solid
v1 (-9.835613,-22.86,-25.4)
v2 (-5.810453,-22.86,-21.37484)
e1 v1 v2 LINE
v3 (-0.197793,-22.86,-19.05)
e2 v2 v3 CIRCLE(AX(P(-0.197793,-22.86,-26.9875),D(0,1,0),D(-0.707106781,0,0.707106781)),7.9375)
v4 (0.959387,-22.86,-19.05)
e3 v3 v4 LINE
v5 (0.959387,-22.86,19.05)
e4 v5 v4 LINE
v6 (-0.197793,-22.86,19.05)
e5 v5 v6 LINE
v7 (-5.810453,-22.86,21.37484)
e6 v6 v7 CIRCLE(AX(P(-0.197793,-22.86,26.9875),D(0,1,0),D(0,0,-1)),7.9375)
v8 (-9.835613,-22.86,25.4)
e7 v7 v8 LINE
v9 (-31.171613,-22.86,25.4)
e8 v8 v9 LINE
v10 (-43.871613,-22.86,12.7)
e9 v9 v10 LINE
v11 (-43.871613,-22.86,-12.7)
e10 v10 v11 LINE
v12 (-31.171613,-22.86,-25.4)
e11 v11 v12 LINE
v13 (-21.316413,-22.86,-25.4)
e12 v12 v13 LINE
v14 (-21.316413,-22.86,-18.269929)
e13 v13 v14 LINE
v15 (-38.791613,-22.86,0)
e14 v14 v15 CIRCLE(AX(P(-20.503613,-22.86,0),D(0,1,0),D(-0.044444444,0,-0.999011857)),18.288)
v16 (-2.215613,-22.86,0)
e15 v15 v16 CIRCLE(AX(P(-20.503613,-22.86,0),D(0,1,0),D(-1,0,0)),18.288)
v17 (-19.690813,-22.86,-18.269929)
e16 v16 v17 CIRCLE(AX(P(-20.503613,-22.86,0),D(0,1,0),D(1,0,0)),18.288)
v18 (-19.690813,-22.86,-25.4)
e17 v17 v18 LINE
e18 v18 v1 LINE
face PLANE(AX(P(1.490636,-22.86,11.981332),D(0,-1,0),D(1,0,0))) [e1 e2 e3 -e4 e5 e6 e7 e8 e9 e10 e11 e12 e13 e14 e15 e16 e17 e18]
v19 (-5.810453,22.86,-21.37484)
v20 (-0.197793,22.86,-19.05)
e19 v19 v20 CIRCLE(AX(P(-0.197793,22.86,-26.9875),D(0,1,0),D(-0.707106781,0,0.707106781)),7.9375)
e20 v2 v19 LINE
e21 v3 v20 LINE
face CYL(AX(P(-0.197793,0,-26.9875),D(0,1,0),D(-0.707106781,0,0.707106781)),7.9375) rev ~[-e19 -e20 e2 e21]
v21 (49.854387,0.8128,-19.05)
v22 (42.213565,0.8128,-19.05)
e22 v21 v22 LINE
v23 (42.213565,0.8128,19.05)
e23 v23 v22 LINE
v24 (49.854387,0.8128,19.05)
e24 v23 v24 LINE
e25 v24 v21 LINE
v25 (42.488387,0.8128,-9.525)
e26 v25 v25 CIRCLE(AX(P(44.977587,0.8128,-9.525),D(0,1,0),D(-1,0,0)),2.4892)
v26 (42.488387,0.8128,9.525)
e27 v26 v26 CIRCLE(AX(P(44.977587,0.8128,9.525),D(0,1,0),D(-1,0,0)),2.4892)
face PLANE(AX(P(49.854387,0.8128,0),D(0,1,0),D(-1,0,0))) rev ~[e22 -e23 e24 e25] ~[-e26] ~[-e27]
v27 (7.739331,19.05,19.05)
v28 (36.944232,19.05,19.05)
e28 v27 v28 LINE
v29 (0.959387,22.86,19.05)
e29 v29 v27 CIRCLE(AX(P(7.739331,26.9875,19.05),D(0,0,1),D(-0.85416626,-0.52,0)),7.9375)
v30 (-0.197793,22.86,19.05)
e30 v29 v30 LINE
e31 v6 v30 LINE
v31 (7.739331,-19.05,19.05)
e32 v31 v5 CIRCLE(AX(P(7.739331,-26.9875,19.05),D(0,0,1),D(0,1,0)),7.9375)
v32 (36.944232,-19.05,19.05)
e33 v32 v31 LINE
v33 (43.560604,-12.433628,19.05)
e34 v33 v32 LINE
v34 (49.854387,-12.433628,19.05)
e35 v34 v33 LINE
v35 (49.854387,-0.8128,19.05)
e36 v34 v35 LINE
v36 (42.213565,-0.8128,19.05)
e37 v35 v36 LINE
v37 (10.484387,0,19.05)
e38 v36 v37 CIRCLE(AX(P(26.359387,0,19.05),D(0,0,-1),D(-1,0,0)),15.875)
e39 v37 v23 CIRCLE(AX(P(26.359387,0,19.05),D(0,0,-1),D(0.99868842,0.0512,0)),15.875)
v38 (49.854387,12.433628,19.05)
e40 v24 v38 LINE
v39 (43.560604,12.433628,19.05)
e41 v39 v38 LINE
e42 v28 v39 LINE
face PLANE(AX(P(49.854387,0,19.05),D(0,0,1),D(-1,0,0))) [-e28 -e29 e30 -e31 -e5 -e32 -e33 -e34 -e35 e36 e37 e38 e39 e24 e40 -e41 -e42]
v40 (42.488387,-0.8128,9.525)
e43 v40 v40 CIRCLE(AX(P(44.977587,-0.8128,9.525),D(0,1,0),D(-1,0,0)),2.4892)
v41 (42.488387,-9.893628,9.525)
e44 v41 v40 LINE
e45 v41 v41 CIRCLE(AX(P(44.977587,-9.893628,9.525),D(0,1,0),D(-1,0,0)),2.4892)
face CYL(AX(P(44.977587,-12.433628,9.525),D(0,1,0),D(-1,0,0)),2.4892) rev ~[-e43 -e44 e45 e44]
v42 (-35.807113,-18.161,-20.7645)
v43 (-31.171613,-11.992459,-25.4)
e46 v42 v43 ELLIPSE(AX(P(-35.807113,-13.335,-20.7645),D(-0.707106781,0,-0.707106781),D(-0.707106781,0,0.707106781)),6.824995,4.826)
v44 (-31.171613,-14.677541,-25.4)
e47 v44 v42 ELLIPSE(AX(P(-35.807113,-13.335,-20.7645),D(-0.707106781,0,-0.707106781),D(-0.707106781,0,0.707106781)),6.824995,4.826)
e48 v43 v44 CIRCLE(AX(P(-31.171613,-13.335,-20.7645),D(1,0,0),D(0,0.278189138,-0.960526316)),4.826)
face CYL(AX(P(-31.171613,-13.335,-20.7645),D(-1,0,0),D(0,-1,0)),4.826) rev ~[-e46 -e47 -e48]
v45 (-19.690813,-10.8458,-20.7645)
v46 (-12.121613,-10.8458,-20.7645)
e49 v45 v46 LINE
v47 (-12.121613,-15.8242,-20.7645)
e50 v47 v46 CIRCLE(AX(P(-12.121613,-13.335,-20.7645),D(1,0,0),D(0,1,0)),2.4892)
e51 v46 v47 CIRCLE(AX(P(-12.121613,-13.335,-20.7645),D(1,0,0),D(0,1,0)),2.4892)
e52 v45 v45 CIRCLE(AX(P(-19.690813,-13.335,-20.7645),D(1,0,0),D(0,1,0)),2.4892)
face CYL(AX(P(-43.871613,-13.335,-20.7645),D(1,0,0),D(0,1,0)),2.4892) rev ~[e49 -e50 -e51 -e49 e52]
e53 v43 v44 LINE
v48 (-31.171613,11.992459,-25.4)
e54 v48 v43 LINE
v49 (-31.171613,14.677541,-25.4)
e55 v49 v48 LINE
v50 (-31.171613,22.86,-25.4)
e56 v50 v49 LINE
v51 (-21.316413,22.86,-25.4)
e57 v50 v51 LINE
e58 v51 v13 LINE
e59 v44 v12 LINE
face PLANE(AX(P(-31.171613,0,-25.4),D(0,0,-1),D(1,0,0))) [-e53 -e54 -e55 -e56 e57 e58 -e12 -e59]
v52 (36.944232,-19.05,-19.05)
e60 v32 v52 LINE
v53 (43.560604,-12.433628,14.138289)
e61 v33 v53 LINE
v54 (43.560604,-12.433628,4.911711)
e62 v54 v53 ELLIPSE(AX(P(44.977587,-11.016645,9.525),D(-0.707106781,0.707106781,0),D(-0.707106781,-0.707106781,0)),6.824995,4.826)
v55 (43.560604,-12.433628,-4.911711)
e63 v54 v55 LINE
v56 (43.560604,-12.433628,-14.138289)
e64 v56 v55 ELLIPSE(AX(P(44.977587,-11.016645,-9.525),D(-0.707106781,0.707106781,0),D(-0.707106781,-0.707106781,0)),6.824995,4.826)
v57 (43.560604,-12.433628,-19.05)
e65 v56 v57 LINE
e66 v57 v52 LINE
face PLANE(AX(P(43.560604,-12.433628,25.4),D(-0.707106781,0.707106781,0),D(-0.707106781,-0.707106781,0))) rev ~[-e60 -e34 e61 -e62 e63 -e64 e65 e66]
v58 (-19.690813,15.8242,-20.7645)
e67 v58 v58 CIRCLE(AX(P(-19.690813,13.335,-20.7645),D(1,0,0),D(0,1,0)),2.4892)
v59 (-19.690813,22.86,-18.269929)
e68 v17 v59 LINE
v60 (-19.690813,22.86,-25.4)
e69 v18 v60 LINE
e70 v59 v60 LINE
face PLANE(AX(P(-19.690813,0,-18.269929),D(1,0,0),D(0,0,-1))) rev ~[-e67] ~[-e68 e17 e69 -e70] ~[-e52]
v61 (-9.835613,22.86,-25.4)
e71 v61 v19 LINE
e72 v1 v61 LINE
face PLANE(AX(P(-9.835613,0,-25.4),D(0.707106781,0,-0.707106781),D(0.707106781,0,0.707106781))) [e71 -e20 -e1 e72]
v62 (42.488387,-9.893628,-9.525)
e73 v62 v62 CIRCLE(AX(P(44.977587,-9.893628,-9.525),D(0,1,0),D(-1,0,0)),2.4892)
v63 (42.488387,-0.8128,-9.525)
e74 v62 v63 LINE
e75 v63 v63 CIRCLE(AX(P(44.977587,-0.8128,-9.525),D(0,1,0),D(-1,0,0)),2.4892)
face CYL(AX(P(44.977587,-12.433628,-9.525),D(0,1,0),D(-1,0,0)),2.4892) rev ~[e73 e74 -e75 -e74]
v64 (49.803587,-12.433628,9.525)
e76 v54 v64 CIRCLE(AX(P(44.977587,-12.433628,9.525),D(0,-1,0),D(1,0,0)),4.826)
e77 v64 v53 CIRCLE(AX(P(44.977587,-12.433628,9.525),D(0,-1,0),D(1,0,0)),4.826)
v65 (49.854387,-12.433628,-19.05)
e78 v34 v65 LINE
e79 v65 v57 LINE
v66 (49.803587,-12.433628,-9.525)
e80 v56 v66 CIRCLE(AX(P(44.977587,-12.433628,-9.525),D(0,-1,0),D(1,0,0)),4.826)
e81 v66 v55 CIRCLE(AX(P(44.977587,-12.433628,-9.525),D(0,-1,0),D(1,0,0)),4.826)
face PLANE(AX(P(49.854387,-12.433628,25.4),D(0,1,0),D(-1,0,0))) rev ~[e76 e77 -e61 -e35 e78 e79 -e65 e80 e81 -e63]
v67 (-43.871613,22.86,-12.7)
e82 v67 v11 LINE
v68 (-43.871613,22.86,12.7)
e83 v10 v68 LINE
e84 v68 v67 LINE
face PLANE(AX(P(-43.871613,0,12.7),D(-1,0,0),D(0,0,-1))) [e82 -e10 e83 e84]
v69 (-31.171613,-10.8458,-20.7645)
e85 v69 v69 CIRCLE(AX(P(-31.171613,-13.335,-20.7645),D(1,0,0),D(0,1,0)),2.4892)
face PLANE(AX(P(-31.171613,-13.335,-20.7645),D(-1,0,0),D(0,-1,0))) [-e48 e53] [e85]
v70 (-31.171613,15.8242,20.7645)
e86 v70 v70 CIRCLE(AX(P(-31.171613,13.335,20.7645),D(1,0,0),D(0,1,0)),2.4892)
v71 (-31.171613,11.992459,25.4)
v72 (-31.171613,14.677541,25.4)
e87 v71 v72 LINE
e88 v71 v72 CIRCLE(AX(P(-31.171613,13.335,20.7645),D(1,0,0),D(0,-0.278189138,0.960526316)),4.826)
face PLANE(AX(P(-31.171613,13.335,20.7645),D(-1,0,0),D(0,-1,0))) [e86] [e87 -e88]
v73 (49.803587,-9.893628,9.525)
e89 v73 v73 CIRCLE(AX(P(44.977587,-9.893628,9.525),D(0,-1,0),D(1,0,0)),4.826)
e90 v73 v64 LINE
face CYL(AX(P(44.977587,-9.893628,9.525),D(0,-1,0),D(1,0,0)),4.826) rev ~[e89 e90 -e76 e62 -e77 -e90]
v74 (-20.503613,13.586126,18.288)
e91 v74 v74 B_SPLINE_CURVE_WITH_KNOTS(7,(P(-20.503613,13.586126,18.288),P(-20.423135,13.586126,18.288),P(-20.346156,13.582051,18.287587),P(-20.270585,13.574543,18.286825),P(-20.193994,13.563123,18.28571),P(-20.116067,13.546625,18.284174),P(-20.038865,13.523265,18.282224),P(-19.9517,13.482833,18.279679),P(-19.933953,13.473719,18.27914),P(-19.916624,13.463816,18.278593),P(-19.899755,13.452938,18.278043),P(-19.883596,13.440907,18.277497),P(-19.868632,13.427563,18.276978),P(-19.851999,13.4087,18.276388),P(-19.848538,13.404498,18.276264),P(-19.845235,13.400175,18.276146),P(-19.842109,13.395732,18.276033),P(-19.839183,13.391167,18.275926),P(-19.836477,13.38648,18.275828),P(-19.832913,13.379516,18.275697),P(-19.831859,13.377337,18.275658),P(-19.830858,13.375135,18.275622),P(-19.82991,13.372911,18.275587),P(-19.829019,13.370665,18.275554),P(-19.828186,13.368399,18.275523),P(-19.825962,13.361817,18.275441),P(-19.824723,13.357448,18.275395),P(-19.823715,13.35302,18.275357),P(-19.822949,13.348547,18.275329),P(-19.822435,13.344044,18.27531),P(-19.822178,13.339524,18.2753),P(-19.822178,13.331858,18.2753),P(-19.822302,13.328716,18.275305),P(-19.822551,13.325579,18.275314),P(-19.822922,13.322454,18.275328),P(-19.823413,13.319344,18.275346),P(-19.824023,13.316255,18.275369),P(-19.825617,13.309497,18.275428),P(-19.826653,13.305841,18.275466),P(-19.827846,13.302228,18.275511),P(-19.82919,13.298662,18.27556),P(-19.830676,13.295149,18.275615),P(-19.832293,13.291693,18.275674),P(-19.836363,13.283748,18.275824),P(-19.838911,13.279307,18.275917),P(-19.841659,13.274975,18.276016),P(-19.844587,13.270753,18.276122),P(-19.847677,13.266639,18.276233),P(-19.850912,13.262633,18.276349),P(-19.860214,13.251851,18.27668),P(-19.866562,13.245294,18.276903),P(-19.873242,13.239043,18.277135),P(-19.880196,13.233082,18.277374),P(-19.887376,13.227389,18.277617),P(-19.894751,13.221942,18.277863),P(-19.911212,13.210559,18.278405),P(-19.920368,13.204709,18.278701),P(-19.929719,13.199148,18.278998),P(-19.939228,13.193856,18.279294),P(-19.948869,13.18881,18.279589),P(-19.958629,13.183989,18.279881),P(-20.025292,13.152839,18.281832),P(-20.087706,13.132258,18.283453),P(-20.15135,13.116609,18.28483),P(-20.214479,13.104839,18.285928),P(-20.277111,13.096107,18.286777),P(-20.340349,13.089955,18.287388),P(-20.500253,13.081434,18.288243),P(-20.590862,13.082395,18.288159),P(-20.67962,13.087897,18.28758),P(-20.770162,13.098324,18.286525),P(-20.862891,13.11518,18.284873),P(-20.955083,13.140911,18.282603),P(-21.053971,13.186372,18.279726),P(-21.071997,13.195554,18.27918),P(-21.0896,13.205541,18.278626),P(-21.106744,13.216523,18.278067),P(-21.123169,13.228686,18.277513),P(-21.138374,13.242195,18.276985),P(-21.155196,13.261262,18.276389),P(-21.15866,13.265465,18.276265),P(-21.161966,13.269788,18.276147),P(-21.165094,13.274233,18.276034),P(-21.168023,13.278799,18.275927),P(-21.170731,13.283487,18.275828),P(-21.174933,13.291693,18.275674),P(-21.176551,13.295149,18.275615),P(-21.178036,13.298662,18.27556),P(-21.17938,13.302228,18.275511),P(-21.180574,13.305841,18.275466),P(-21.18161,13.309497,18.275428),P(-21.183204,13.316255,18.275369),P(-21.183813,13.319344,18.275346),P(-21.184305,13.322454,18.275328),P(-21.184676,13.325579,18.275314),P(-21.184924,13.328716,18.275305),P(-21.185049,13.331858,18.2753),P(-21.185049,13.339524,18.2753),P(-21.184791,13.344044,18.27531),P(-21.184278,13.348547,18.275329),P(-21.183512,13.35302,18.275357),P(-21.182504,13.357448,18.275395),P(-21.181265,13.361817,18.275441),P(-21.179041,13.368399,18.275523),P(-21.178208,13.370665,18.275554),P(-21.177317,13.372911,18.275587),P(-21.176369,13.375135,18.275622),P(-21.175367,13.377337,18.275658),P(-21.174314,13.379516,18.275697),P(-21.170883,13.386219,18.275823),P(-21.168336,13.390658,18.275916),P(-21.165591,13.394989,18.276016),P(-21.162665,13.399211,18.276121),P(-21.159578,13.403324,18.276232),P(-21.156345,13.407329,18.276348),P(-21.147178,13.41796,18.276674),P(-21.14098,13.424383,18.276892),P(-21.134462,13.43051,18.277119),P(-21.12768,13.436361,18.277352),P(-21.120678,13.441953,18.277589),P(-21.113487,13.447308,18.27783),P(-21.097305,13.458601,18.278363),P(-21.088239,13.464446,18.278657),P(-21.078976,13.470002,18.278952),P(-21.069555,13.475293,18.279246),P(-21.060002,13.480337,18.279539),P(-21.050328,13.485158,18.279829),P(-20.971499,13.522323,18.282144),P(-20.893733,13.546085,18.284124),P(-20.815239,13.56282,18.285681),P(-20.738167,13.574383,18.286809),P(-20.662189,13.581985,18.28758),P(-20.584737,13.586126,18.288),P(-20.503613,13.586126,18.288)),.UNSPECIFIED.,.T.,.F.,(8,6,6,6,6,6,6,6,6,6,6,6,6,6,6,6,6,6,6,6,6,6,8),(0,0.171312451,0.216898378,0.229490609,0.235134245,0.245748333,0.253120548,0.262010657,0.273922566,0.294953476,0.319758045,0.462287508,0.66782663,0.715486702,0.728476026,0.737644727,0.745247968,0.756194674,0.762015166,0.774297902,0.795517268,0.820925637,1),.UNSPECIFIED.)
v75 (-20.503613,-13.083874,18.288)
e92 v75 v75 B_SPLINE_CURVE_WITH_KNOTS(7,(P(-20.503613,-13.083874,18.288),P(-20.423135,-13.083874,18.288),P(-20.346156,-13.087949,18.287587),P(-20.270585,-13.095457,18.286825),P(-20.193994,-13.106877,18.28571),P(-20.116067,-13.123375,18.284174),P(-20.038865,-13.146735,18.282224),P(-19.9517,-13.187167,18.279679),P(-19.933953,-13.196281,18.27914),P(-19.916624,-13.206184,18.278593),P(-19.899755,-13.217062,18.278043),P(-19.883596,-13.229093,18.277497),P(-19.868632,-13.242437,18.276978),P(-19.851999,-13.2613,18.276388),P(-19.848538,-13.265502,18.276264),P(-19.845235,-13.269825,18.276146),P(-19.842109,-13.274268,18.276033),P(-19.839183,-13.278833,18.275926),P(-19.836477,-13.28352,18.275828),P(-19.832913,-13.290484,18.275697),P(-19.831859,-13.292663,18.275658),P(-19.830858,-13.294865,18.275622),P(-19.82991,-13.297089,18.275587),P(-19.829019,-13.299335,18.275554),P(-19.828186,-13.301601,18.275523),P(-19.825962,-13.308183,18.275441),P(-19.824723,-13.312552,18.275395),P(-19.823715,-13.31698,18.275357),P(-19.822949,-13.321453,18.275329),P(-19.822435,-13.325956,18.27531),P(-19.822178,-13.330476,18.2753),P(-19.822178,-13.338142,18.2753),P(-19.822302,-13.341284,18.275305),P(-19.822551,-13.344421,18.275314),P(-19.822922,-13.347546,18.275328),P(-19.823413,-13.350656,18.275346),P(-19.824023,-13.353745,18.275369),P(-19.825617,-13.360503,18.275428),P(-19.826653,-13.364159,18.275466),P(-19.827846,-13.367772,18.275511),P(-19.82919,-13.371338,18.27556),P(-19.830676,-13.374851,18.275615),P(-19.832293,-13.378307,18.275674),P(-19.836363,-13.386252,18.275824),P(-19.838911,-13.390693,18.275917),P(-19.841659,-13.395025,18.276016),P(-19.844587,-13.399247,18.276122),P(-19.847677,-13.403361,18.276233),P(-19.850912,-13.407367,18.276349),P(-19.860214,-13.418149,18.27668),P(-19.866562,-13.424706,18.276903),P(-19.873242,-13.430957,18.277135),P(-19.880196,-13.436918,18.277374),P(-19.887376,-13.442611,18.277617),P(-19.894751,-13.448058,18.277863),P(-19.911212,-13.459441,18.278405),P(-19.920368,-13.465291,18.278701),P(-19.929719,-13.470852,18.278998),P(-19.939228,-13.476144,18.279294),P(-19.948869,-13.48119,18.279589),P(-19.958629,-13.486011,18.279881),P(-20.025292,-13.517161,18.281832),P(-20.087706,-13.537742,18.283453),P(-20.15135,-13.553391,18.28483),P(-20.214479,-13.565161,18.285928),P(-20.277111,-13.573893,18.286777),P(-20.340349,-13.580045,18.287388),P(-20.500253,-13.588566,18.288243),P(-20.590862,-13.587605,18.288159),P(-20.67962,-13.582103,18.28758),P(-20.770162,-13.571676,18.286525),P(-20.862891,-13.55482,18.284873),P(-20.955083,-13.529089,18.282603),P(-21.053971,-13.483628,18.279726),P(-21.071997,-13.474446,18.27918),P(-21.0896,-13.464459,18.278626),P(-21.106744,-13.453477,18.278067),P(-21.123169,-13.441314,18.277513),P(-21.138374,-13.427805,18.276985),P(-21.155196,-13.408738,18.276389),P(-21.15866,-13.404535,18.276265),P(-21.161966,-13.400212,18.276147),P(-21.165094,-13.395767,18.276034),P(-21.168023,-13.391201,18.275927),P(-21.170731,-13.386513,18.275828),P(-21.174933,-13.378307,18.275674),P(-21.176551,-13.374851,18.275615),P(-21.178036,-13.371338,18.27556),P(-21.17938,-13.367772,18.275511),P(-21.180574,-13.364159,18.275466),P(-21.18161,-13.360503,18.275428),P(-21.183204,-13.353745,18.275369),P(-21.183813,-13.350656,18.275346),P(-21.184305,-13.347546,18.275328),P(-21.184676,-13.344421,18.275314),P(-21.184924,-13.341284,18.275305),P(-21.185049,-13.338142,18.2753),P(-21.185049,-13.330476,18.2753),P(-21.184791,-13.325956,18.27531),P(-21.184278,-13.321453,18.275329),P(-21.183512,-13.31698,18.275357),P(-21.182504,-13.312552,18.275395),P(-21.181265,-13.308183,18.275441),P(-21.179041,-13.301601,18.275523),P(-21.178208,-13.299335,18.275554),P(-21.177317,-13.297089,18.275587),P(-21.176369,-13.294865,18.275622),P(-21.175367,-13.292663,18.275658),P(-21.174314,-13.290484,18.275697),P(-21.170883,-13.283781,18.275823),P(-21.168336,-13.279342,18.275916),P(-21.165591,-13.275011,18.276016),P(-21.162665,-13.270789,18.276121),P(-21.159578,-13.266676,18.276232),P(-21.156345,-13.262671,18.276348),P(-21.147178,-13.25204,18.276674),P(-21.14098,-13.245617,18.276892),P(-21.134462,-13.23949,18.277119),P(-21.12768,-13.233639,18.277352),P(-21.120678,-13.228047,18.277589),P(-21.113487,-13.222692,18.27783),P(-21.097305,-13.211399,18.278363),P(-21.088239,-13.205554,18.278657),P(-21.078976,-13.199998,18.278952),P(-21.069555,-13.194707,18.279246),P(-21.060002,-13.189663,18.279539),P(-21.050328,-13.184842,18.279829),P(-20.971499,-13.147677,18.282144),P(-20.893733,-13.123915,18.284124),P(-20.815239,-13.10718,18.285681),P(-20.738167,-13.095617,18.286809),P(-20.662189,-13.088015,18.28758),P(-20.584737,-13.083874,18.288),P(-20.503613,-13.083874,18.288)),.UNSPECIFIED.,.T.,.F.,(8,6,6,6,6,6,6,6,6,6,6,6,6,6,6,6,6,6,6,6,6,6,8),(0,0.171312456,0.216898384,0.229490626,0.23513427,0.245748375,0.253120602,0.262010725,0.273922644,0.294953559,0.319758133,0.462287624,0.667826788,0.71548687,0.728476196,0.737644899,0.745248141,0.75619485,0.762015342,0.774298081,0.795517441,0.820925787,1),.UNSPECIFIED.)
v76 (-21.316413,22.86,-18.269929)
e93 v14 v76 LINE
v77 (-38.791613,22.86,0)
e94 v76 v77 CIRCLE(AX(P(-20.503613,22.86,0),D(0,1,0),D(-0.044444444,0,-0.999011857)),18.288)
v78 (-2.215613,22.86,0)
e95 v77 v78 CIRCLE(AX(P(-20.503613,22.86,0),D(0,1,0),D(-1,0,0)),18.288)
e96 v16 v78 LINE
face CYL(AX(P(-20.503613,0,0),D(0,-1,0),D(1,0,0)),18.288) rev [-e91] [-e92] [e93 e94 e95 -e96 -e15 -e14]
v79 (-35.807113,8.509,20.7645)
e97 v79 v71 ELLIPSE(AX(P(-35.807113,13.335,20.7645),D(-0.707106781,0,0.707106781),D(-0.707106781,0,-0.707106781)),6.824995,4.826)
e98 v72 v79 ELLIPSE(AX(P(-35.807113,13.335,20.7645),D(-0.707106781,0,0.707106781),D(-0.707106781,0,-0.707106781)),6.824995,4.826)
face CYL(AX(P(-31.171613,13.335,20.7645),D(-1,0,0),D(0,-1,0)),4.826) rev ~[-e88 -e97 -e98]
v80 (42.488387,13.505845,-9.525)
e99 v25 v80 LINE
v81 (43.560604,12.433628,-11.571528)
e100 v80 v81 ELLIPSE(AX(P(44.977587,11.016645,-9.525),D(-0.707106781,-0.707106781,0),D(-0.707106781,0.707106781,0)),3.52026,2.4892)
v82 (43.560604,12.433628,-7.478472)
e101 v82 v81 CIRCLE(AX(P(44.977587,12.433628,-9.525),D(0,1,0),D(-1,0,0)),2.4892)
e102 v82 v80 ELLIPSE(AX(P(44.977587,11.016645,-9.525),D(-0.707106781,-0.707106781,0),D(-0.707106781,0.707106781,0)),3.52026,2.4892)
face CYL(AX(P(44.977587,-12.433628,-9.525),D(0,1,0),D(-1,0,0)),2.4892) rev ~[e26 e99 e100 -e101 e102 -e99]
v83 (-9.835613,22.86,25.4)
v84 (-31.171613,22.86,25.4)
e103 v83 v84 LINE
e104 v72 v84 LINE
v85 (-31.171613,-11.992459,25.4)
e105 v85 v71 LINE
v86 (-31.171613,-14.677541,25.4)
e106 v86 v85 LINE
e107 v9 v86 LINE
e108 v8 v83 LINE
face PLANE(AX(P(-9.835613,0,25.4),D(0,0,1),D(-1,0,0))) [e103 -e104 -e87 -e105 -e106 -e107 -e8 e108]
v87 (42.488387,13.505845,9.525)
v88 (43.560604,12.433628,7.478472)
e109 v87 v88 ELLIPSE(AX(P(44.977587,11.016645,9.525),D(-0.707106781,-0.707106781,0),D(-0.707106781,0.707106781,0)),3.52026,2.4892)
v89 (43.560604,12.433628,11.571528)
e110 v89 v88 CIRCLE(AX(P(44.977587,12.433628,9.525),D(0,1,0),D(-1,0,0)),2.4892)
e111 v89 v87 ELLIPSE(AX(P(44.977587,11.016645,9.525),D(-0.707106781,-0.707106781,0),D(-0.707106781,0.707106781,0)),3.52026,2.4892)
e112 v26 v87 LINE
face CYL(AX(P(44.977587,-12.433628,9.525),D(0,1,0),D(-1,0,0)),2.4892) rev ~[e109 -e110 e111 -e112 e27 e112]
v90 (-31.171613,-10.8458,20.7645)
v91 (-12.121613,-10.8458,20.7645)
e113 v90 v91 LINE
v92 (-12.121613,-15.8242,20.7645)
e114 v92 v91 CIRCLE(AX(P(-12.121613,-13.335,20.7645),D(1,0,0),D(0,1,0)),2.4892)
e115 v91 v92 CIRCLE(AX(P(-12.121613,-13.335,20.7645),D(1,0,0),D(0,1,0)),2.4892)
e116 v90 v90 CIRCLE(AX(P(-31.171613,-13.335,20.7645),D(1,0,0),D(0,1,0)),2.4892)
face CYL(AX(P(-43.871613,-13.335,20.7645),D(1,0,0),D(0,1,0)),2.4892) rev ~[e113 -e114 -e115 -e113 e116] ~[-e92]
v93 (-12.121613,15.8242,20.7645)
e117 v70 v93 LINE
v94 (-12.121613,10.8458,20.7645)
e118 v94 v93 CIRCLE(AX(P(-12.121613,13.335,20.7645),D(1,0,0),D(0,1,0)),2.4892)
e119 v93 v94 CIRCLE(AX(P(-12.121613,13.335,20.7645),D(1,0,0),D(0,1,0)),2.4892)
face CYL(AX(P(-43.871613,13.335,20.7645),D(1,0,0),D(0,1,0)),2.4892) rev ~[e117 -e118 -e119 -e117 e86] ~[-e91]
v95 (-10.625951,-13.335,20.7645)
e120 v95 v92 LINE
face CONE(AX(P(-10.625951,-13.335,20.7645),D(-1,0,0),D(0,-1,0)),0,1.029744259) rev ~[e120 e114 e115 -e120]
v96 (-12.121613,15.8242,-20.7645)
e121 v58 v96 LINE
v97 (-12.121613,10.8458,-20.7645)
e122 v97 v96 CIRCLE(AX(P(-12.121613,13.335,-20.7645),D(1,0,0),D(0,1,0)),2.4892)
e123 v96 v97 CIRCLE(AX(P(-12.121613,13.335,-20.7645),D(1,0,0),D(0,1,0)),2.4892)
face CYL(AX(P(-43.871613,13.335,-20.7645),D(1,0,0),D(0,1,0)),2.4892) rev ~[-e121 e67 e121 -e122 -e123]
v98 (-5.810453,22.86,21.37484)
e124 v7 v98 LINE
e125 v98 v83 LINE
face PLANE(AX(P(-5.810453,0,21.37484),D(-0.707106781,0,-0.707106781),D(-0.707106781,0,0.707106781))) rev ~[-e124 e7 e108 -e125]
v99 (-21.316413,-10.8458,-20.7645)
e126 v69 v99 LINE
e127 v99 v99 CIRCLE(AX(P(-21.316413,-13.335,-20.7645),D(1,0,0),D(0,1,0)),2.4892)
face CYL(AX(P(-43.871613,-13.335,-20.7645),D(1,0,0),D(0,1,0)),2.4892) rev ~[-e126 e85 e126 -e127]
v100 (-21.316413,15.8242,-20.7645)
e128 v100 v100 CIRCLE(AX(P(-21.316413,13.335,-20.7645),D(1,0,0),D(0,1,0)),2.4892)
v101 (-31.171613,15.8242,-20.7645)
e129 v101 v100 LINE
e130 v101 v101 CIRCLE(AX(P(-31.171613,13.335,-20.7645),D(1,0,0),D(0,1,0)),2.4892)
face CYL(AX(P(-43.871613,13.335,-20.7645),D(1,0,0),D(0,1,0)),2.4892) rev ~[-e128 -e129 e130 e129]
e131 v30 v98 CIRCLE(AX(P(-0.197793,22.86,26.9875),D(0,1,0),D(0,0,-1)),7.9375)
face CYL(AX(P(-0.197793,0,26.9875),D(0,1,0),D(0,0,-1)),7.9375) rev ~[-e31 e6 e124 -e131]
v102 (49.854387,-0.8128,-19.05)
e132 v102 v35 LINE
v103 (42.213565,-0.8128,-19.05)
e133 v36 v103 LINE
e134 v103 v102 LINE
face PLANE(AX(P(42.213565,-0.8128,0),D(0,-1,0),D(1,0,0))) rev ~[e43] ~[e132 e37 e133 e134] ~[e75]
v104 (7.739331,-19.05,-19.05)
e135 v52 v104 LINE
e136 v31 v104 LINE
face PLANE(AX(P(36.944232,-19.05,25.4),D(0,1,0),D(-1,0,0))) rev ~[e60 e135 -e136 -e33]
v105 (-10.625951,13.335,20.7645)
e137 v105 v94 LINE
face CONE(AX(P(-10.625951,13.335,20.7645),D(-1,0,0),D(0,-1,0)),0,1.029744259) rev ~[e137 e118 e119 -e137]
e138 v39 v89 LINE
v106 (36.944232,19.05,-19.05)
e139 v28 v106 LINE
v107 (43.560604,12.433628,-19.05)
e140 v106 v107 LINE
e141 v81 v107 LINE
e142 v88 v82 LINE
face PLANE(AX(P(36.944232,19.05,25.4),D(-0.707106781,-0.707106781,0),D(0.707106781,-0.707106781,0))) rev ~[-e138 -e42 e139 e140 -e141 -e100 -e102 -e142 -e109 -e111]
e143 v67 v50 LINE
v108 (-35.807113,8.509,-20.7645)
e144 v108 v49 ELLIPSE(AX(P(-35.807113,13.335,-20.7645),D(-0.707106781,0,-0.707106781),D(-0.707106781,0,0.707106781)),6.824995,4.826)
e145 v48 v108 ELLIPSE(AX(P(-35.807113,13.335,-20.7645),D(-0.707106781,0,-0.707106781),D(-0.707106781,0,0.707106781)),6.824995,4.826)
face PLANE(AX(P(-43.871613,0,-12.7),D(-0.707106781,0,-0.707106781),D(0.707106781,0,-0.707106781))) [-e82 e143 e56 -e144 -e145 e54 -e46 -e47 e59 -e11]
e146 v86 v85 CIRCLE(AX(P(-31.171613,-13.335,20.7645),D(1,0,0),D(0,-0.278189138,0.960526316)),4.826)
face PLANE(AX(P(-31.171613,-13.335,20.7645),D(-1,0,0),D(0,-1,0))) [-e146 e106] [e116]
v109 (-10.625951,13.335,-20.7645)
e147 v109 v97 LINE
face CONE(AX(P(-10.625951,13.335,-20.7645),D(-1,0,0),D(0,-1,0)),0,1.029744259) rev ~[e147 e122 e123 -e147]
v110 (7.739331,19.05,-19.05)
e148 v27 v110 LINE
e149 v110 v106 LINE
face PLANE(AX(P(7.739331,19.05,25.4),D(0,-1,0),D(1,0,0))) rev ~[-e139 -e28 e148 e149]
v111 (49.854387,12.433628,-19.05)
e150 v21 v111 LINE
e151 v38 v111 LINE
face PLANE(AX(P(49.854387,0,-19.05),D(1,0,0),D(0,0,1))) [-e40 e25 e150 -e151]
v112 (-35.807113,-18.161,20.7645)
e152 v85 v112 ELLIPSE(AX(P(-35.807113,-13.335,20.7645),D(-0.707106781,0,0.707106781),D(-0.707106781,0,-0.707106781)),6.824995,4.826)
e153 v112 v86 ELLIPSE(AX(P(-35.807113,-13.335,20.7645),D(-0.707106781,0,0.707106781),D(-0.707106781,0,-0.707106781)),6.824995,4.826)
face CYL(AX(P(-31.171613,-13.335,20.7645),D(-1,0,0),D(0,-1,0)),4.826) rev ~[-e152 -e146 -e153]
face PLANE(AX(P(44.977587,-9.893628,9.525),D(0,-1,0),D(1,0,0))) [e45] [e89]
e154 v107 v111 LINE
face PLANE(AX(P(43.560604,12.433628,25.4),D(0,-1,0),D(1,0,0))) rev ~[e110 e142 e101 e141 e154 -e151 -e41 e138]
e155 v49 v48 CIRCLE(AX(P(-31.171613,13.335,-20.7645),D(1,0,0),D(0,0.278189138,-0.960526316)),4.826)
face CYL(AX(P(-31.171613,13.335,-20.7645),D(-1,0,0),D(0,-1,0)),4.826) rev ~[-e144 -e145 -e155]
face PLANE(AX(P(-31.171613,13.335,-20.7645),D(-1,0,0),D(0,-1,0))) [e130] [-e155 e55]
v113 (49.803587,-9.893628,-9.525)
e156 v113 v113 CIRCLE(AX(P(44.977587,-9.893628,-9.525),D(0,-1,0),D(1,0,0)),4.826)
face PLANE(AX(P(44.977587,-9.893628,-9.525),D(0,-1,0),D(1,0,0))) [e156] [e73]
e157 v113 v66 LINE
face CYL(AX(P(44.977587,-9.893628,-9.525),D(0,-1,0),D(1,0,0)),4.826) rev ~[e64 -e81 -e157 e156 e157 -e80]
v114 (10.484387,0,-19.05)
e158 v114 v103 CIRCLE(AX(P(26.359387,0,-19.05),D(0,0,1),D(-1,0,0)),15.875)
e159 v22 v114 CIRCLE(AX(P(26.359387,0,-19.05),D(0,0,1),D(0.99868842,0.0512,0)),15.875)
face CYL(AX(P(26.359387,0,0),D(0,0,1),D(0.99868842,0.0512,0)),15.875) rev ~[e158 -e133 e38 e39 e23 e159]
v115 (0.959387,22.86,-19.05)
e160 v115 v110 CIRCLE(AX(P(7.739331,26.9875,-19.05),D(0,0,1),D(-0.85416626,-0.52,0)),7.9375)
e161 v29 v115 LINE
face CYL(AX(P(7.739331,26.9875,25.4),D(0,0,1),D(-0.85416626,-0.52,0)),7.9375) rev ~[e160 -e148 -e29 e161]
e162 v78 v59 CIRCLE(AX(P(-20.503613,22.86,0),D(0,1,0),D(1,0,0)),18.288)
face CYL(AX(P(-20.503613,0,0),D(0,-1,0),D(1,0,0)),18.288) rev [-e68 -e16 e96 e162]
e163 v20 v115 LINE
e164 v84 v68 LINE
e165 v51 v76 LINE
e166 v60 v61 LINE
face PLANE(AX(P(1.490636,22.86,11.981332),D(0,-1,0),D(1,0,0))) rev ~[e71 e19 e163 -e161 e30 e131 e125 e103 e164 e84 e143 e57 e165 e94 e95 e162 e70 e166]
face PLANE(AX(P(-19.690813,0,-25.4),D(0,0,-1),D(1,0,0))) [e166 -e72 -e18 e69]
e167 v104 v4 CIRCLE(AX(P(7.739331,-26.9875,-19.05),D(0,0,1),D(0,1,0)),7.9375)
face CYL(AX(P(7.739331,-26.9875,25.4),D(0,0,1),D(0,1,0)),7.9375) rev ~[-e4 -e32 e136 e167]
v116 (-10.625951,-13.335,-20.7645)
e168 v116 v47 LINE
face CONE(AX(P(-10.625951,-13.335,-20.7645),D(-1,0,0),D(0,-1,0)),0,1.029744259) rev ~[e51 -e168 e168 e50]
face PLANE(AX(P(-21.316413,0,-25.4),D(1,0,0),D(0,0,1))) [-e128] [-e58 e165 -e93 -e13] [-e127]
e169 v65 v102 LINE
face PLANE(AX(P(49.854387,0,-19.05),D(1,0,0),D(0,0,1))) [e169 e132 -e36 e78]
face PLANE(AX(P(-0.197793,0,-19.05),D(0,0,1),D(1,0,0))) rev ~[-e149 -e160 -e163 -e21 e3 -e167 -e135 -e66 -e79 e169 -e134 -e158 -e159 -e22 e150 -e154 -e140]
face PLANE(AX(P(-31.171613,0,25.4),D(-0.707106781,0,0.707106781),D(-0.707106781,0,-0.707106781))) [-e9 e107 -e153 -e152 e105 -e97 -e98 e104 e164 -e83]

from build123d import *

# Parameters (mm, degrees)
F1_DEPTH       = 22.86
F3_DEPTH       = 23.368
F5_DEPTH       = 45.72
F7_D           = 4.9784
F7_START       = 6.6163719
F7_CBORE_D     = 9.652
F7_CBORE_DEPTH = 2.54
F9_D           = 4.9784
F9_DEPTH       = 31.75
F9_CBORE_D     = 9.652
F9_CBORE_DEPTH = 12.7
F9_TIP         = 1.4956622529


with BuildPart() as f1:
    # F0 (on Front) → F1 (new body, symmetric)
    with BuildSketch(Plane.XZ):
        with BuildLine():
            ThreePointArc((-38.7916133821, 0), (-20.5036133821, 18.288), (-2.2156133821, 0))
            Line((-2.2156133821, 0), (10.4843866179, 0))
            Line((10.4843866179, 0), (26.3593866179, 0))
            Line((26.3593866179, 0), (42.2343866179, 0))
            Line((42.2343866179, 0), (49.8543866179, 0))
            Line((49.8543866179, 0), (49.8543866179, 19.05))
            Line((49.8543866179, 19.05), (-0.1977932308, 19.05))
            ThreePointArc((-0.1977932308, 19.05), (-3.2353429752, 19.6542062107), (-5.8104533064, 21.3748399243))
            Line((-5.8104533064, 21.3748399243), (-9.8356133821, 25.4))
            Line((-9.8356133821, 25.4), (-31.1716133821, 25.4))
            Line((-31.1716133821, 25.4), (-43.8716133821, 12.7))
            Line((-43.8716133821, 12.7), (-43.8716133821, 0))
            Line((-43.8716133821, 0), (-38.7916133821, 0))
        make_face()
        with BuildLine():
            ThreePointArc((-21.3164133821, -18.2699288493), (-33.7194264558, -12.640934649), (-38.7916133821, 0))
            Line((-38.7916133821, 0), (-43.8716133821, 0))
            Line((-43.8716133821, 0), (-43.8716133821, -12.7))
            Line((-43.8716133821, -12.7), (-31.1716133821, -25.4))
            Line((-31.1716133821, -25.4), (-21.3164133821, -25.4))
            Line((-21.3164133821, -25.4), (-21.3164133821, -18.2699288493))
        make_face()
        with BuildLine():
            ThreePointArc((-38.7916133821, 0), (-20.5036133821, 18.288), (-2.2156133821, 0))
            Line((-2.2156133821, 0), (10.4843866179, 0))
            Line((10.4843866179, 0), (26.3593866179, 0))
            Line((26.3593866179, 0), (42.2343866179, 0))
            Line((42.2343866179, 0), (49.8543866179, 0))
            Line((49.8543866179, 0), (49.8543866179, 19.05))
            Line((49.8543866179, 19.05), (-0.1977932308, 19.05))
            ThreePointArc((-0.1977932308, 19.05), (-3.2353429752, 19.6542062107), (-5.8104533064, 21.3748399243))
            Line((-5.8104533064, 21.3748399243), (-9.8356133821, 25.4))
            Line((-9.8356133821, 25.4), (-31.1716133821, 25.4))
            Line((-31.1716133821, 25.4), (-43.8716133821, 12.7))
            Line((-43.8716133821, 12.7), (-43.8716133821, 0))
            Line((-43.8716133821, 0), (-38.7916133821, 0))
        make_face()
        with BuildLine():
            Line((10.4843866179, 0), (-2.2156133821, 0))
            ThreePointArc((-2.2156133821, 0), (-7.2878003084, -12.640934649), (-19.6908133821, -18.2699288493))
            Line((-19.6908133821, -18.2699288493), (-19.6908133821, -25.4))
            Line((-19.6908133821, -25.4), (-9.8356133821, -25.4))
            Line((-9.8356133821, -25.4), (-5.8104533064, -21.3748399243))
            ThreePointArc((-5.8104533064, -21.3748399243), (-3.2353429752, -19.6542062107), (-0.1977932308, -19.05))
            Line((-0.1977932308, -19.05), (49.8543866179, -19.05))
            Line((49.8543866179, -19.05), (49.8543866179, 0))
            Line((49.8543866179, 0), (42.2343866179, 0))
            Line((42.2343866179, 0), (26.3593866179, 0))
            Line((26.3593866179, 0), (10.4843866179, 0))
        make_face()
    extrude(amount=F1_DEPTH, both=True)

    # F2 (on Top) → F3 (cut, symmetric)
    with BuildSketch(Plane.XY):
        with BuildLine():
            ThreePointArc((42.2135652835, -0.8128), (42.2291804306, -0.4065333221), (42.2343866179, 0))
            ThreePointArc((42.2343866179, 0), (42.2291804306, 0.4065333221), (42.2135652835, 0.8128))
            ThreePointArc((42.2135652835, 0.8128), (25.9528532958, 15.8697938127), (10.4843866179, 0))
            ThreePointArc((10.4843866179, 0), (25.9528532958, -15.8697938127), (42.2135652835, -0.8128))
        make_face()
        with BuildLine():
            ThreePointArc((42.2135652835, -0.8128), (42.2291804306, -0.4065333221), (42.2343866179, 0))
            ThreePointArc((42.2343866179, 0), (42.2291804306, 0.4065333221), (42.2135652835, 0.8128))
            ThreePointArc((42.2135652835, 0.8128), (25.9528532958, 15.8697938127), (10.4843866179, 0))
            ThreePointArc((10.4843866179, 0), (25.9528532958, -15.8697938127), (42.2135652835, -0.8128))
        make_face()
        with BuildLine():
            ThreePointArc((42.2135652835, 0.8128), (42.2291804306, 0.4065333221), (42.2343866179, 0))
            ThreePointArc((42.2343866179, 0), (42.2291804306, -0.4065333221), (42.2135652835, -0.8128))
            Line((42.2135652835, -0.8128), (49.8543866179, -0.8128))
            Line((49.8543866179, -0.8128), (49.8543866179, 0.8128))
            Line((49.8543866179, 0.8128), (42.2135652835, 0.8128))
        make_face()
        with BuildLine():
            ThreePointArc((42.2135652835, 0.8128), (42.2291804306, 0.4065333221), (42.2343866179, 0))
            ThreePointArc((42.2343866179, 0), (42.2291804306, -0.4065333221), (42.2135652835, -0.8128))
            Line((42.2135652835, -0.8128), (49.8543866179, -0.8128))
            Line((49.8543866179, -0.8128), (49.8543866179, 0.8128))
            Line((49.8543866179, 0.8128), (42.2135652835, 0.8128))
        make_face()
    extrude(amount=F3_DEPTH, both=True, mode=Mode.SUBTRACT)

    # F4 (on face) → F5 (cut)
    with BuildSketch(Plane.XY.offset(25.4)):
        with BuildLine():
            Line((7.7393313079, 19.05), (36.9442318174, 19.05))
            Line((36.9442318174, 19.05), (43.5606037016, 12.4336281158))
            Line((43.5606037016, 12.4336281158), (49.8543866179, 12.4336281158))
            Line((49.8543866179, 12.4336281158), (49.8543866179, 22.86))
            Line((49.8543866179, 22.86), (0.9593866179, 22.86))
            ThreePointArc((0.9593866179, 22.86), (3.8507663413, 20.0677479271), (7.7393313079, 19.05))
        make_face()
        with BuildLine():
            Line((43.5606037016, -12.4336281158), (36.9442318174, -19.05))
            Line((36.9442318174, -19.05), (7.7393313079, -19.05))
            ThreePointArc((7.7393313079, -19.05), (3.8507663413, -20.0677479271), (0.9593866179, -22.86))
            Line((0.9593866179, -22.86), (49.8543866179, -22.86))
            Line((49.8543866179, -22.86), (49.8543866179, -12.4336281158))
            Line((49.8543866179, -12.4336281158), (43.5606037016, -12.4336281158))
        make_face()
    extrude(amount=-F5_DEPTH, mode=Mode.SUBTRACT)

    # F7 (through all)
    # its depths count from where the whole tool has entered the part; down to there all is cleared
    with Locations(Plane.XZ.offset(19.05).offset(-F7_START)):
        with Locations((44.9775866179, 9.525), (44.9775866179, -9.525)):
            CounterBoreHole(F7_D / 2, F7_CBORE_D / 2, F7_CBORE_DEPTH)

    # F9
    with Locations(Plane(origin=(-43.8716133821, 0, 0), x_dir=(0, -1, 0), z_dir=(-1, 0, 0))):
        with Locations((13.335, 20.7645), (-13.335, 20.7645), (13.335, -20.7645), (-13.335, -20.7645)):
            CounterBoreHole(F9_D / 2, F9_CBORE_D / 2, F9_CBORE_DEPTH, depth=F9_DEPTH)
            with Locations((0, 0, -(F9_DEPTH + F9_TIP / 2))):  # 118° drill point
                Cone(0, F9_D / 2, F9_TIP, mode=Mode.SUBTRACT)


solid = f1.part
